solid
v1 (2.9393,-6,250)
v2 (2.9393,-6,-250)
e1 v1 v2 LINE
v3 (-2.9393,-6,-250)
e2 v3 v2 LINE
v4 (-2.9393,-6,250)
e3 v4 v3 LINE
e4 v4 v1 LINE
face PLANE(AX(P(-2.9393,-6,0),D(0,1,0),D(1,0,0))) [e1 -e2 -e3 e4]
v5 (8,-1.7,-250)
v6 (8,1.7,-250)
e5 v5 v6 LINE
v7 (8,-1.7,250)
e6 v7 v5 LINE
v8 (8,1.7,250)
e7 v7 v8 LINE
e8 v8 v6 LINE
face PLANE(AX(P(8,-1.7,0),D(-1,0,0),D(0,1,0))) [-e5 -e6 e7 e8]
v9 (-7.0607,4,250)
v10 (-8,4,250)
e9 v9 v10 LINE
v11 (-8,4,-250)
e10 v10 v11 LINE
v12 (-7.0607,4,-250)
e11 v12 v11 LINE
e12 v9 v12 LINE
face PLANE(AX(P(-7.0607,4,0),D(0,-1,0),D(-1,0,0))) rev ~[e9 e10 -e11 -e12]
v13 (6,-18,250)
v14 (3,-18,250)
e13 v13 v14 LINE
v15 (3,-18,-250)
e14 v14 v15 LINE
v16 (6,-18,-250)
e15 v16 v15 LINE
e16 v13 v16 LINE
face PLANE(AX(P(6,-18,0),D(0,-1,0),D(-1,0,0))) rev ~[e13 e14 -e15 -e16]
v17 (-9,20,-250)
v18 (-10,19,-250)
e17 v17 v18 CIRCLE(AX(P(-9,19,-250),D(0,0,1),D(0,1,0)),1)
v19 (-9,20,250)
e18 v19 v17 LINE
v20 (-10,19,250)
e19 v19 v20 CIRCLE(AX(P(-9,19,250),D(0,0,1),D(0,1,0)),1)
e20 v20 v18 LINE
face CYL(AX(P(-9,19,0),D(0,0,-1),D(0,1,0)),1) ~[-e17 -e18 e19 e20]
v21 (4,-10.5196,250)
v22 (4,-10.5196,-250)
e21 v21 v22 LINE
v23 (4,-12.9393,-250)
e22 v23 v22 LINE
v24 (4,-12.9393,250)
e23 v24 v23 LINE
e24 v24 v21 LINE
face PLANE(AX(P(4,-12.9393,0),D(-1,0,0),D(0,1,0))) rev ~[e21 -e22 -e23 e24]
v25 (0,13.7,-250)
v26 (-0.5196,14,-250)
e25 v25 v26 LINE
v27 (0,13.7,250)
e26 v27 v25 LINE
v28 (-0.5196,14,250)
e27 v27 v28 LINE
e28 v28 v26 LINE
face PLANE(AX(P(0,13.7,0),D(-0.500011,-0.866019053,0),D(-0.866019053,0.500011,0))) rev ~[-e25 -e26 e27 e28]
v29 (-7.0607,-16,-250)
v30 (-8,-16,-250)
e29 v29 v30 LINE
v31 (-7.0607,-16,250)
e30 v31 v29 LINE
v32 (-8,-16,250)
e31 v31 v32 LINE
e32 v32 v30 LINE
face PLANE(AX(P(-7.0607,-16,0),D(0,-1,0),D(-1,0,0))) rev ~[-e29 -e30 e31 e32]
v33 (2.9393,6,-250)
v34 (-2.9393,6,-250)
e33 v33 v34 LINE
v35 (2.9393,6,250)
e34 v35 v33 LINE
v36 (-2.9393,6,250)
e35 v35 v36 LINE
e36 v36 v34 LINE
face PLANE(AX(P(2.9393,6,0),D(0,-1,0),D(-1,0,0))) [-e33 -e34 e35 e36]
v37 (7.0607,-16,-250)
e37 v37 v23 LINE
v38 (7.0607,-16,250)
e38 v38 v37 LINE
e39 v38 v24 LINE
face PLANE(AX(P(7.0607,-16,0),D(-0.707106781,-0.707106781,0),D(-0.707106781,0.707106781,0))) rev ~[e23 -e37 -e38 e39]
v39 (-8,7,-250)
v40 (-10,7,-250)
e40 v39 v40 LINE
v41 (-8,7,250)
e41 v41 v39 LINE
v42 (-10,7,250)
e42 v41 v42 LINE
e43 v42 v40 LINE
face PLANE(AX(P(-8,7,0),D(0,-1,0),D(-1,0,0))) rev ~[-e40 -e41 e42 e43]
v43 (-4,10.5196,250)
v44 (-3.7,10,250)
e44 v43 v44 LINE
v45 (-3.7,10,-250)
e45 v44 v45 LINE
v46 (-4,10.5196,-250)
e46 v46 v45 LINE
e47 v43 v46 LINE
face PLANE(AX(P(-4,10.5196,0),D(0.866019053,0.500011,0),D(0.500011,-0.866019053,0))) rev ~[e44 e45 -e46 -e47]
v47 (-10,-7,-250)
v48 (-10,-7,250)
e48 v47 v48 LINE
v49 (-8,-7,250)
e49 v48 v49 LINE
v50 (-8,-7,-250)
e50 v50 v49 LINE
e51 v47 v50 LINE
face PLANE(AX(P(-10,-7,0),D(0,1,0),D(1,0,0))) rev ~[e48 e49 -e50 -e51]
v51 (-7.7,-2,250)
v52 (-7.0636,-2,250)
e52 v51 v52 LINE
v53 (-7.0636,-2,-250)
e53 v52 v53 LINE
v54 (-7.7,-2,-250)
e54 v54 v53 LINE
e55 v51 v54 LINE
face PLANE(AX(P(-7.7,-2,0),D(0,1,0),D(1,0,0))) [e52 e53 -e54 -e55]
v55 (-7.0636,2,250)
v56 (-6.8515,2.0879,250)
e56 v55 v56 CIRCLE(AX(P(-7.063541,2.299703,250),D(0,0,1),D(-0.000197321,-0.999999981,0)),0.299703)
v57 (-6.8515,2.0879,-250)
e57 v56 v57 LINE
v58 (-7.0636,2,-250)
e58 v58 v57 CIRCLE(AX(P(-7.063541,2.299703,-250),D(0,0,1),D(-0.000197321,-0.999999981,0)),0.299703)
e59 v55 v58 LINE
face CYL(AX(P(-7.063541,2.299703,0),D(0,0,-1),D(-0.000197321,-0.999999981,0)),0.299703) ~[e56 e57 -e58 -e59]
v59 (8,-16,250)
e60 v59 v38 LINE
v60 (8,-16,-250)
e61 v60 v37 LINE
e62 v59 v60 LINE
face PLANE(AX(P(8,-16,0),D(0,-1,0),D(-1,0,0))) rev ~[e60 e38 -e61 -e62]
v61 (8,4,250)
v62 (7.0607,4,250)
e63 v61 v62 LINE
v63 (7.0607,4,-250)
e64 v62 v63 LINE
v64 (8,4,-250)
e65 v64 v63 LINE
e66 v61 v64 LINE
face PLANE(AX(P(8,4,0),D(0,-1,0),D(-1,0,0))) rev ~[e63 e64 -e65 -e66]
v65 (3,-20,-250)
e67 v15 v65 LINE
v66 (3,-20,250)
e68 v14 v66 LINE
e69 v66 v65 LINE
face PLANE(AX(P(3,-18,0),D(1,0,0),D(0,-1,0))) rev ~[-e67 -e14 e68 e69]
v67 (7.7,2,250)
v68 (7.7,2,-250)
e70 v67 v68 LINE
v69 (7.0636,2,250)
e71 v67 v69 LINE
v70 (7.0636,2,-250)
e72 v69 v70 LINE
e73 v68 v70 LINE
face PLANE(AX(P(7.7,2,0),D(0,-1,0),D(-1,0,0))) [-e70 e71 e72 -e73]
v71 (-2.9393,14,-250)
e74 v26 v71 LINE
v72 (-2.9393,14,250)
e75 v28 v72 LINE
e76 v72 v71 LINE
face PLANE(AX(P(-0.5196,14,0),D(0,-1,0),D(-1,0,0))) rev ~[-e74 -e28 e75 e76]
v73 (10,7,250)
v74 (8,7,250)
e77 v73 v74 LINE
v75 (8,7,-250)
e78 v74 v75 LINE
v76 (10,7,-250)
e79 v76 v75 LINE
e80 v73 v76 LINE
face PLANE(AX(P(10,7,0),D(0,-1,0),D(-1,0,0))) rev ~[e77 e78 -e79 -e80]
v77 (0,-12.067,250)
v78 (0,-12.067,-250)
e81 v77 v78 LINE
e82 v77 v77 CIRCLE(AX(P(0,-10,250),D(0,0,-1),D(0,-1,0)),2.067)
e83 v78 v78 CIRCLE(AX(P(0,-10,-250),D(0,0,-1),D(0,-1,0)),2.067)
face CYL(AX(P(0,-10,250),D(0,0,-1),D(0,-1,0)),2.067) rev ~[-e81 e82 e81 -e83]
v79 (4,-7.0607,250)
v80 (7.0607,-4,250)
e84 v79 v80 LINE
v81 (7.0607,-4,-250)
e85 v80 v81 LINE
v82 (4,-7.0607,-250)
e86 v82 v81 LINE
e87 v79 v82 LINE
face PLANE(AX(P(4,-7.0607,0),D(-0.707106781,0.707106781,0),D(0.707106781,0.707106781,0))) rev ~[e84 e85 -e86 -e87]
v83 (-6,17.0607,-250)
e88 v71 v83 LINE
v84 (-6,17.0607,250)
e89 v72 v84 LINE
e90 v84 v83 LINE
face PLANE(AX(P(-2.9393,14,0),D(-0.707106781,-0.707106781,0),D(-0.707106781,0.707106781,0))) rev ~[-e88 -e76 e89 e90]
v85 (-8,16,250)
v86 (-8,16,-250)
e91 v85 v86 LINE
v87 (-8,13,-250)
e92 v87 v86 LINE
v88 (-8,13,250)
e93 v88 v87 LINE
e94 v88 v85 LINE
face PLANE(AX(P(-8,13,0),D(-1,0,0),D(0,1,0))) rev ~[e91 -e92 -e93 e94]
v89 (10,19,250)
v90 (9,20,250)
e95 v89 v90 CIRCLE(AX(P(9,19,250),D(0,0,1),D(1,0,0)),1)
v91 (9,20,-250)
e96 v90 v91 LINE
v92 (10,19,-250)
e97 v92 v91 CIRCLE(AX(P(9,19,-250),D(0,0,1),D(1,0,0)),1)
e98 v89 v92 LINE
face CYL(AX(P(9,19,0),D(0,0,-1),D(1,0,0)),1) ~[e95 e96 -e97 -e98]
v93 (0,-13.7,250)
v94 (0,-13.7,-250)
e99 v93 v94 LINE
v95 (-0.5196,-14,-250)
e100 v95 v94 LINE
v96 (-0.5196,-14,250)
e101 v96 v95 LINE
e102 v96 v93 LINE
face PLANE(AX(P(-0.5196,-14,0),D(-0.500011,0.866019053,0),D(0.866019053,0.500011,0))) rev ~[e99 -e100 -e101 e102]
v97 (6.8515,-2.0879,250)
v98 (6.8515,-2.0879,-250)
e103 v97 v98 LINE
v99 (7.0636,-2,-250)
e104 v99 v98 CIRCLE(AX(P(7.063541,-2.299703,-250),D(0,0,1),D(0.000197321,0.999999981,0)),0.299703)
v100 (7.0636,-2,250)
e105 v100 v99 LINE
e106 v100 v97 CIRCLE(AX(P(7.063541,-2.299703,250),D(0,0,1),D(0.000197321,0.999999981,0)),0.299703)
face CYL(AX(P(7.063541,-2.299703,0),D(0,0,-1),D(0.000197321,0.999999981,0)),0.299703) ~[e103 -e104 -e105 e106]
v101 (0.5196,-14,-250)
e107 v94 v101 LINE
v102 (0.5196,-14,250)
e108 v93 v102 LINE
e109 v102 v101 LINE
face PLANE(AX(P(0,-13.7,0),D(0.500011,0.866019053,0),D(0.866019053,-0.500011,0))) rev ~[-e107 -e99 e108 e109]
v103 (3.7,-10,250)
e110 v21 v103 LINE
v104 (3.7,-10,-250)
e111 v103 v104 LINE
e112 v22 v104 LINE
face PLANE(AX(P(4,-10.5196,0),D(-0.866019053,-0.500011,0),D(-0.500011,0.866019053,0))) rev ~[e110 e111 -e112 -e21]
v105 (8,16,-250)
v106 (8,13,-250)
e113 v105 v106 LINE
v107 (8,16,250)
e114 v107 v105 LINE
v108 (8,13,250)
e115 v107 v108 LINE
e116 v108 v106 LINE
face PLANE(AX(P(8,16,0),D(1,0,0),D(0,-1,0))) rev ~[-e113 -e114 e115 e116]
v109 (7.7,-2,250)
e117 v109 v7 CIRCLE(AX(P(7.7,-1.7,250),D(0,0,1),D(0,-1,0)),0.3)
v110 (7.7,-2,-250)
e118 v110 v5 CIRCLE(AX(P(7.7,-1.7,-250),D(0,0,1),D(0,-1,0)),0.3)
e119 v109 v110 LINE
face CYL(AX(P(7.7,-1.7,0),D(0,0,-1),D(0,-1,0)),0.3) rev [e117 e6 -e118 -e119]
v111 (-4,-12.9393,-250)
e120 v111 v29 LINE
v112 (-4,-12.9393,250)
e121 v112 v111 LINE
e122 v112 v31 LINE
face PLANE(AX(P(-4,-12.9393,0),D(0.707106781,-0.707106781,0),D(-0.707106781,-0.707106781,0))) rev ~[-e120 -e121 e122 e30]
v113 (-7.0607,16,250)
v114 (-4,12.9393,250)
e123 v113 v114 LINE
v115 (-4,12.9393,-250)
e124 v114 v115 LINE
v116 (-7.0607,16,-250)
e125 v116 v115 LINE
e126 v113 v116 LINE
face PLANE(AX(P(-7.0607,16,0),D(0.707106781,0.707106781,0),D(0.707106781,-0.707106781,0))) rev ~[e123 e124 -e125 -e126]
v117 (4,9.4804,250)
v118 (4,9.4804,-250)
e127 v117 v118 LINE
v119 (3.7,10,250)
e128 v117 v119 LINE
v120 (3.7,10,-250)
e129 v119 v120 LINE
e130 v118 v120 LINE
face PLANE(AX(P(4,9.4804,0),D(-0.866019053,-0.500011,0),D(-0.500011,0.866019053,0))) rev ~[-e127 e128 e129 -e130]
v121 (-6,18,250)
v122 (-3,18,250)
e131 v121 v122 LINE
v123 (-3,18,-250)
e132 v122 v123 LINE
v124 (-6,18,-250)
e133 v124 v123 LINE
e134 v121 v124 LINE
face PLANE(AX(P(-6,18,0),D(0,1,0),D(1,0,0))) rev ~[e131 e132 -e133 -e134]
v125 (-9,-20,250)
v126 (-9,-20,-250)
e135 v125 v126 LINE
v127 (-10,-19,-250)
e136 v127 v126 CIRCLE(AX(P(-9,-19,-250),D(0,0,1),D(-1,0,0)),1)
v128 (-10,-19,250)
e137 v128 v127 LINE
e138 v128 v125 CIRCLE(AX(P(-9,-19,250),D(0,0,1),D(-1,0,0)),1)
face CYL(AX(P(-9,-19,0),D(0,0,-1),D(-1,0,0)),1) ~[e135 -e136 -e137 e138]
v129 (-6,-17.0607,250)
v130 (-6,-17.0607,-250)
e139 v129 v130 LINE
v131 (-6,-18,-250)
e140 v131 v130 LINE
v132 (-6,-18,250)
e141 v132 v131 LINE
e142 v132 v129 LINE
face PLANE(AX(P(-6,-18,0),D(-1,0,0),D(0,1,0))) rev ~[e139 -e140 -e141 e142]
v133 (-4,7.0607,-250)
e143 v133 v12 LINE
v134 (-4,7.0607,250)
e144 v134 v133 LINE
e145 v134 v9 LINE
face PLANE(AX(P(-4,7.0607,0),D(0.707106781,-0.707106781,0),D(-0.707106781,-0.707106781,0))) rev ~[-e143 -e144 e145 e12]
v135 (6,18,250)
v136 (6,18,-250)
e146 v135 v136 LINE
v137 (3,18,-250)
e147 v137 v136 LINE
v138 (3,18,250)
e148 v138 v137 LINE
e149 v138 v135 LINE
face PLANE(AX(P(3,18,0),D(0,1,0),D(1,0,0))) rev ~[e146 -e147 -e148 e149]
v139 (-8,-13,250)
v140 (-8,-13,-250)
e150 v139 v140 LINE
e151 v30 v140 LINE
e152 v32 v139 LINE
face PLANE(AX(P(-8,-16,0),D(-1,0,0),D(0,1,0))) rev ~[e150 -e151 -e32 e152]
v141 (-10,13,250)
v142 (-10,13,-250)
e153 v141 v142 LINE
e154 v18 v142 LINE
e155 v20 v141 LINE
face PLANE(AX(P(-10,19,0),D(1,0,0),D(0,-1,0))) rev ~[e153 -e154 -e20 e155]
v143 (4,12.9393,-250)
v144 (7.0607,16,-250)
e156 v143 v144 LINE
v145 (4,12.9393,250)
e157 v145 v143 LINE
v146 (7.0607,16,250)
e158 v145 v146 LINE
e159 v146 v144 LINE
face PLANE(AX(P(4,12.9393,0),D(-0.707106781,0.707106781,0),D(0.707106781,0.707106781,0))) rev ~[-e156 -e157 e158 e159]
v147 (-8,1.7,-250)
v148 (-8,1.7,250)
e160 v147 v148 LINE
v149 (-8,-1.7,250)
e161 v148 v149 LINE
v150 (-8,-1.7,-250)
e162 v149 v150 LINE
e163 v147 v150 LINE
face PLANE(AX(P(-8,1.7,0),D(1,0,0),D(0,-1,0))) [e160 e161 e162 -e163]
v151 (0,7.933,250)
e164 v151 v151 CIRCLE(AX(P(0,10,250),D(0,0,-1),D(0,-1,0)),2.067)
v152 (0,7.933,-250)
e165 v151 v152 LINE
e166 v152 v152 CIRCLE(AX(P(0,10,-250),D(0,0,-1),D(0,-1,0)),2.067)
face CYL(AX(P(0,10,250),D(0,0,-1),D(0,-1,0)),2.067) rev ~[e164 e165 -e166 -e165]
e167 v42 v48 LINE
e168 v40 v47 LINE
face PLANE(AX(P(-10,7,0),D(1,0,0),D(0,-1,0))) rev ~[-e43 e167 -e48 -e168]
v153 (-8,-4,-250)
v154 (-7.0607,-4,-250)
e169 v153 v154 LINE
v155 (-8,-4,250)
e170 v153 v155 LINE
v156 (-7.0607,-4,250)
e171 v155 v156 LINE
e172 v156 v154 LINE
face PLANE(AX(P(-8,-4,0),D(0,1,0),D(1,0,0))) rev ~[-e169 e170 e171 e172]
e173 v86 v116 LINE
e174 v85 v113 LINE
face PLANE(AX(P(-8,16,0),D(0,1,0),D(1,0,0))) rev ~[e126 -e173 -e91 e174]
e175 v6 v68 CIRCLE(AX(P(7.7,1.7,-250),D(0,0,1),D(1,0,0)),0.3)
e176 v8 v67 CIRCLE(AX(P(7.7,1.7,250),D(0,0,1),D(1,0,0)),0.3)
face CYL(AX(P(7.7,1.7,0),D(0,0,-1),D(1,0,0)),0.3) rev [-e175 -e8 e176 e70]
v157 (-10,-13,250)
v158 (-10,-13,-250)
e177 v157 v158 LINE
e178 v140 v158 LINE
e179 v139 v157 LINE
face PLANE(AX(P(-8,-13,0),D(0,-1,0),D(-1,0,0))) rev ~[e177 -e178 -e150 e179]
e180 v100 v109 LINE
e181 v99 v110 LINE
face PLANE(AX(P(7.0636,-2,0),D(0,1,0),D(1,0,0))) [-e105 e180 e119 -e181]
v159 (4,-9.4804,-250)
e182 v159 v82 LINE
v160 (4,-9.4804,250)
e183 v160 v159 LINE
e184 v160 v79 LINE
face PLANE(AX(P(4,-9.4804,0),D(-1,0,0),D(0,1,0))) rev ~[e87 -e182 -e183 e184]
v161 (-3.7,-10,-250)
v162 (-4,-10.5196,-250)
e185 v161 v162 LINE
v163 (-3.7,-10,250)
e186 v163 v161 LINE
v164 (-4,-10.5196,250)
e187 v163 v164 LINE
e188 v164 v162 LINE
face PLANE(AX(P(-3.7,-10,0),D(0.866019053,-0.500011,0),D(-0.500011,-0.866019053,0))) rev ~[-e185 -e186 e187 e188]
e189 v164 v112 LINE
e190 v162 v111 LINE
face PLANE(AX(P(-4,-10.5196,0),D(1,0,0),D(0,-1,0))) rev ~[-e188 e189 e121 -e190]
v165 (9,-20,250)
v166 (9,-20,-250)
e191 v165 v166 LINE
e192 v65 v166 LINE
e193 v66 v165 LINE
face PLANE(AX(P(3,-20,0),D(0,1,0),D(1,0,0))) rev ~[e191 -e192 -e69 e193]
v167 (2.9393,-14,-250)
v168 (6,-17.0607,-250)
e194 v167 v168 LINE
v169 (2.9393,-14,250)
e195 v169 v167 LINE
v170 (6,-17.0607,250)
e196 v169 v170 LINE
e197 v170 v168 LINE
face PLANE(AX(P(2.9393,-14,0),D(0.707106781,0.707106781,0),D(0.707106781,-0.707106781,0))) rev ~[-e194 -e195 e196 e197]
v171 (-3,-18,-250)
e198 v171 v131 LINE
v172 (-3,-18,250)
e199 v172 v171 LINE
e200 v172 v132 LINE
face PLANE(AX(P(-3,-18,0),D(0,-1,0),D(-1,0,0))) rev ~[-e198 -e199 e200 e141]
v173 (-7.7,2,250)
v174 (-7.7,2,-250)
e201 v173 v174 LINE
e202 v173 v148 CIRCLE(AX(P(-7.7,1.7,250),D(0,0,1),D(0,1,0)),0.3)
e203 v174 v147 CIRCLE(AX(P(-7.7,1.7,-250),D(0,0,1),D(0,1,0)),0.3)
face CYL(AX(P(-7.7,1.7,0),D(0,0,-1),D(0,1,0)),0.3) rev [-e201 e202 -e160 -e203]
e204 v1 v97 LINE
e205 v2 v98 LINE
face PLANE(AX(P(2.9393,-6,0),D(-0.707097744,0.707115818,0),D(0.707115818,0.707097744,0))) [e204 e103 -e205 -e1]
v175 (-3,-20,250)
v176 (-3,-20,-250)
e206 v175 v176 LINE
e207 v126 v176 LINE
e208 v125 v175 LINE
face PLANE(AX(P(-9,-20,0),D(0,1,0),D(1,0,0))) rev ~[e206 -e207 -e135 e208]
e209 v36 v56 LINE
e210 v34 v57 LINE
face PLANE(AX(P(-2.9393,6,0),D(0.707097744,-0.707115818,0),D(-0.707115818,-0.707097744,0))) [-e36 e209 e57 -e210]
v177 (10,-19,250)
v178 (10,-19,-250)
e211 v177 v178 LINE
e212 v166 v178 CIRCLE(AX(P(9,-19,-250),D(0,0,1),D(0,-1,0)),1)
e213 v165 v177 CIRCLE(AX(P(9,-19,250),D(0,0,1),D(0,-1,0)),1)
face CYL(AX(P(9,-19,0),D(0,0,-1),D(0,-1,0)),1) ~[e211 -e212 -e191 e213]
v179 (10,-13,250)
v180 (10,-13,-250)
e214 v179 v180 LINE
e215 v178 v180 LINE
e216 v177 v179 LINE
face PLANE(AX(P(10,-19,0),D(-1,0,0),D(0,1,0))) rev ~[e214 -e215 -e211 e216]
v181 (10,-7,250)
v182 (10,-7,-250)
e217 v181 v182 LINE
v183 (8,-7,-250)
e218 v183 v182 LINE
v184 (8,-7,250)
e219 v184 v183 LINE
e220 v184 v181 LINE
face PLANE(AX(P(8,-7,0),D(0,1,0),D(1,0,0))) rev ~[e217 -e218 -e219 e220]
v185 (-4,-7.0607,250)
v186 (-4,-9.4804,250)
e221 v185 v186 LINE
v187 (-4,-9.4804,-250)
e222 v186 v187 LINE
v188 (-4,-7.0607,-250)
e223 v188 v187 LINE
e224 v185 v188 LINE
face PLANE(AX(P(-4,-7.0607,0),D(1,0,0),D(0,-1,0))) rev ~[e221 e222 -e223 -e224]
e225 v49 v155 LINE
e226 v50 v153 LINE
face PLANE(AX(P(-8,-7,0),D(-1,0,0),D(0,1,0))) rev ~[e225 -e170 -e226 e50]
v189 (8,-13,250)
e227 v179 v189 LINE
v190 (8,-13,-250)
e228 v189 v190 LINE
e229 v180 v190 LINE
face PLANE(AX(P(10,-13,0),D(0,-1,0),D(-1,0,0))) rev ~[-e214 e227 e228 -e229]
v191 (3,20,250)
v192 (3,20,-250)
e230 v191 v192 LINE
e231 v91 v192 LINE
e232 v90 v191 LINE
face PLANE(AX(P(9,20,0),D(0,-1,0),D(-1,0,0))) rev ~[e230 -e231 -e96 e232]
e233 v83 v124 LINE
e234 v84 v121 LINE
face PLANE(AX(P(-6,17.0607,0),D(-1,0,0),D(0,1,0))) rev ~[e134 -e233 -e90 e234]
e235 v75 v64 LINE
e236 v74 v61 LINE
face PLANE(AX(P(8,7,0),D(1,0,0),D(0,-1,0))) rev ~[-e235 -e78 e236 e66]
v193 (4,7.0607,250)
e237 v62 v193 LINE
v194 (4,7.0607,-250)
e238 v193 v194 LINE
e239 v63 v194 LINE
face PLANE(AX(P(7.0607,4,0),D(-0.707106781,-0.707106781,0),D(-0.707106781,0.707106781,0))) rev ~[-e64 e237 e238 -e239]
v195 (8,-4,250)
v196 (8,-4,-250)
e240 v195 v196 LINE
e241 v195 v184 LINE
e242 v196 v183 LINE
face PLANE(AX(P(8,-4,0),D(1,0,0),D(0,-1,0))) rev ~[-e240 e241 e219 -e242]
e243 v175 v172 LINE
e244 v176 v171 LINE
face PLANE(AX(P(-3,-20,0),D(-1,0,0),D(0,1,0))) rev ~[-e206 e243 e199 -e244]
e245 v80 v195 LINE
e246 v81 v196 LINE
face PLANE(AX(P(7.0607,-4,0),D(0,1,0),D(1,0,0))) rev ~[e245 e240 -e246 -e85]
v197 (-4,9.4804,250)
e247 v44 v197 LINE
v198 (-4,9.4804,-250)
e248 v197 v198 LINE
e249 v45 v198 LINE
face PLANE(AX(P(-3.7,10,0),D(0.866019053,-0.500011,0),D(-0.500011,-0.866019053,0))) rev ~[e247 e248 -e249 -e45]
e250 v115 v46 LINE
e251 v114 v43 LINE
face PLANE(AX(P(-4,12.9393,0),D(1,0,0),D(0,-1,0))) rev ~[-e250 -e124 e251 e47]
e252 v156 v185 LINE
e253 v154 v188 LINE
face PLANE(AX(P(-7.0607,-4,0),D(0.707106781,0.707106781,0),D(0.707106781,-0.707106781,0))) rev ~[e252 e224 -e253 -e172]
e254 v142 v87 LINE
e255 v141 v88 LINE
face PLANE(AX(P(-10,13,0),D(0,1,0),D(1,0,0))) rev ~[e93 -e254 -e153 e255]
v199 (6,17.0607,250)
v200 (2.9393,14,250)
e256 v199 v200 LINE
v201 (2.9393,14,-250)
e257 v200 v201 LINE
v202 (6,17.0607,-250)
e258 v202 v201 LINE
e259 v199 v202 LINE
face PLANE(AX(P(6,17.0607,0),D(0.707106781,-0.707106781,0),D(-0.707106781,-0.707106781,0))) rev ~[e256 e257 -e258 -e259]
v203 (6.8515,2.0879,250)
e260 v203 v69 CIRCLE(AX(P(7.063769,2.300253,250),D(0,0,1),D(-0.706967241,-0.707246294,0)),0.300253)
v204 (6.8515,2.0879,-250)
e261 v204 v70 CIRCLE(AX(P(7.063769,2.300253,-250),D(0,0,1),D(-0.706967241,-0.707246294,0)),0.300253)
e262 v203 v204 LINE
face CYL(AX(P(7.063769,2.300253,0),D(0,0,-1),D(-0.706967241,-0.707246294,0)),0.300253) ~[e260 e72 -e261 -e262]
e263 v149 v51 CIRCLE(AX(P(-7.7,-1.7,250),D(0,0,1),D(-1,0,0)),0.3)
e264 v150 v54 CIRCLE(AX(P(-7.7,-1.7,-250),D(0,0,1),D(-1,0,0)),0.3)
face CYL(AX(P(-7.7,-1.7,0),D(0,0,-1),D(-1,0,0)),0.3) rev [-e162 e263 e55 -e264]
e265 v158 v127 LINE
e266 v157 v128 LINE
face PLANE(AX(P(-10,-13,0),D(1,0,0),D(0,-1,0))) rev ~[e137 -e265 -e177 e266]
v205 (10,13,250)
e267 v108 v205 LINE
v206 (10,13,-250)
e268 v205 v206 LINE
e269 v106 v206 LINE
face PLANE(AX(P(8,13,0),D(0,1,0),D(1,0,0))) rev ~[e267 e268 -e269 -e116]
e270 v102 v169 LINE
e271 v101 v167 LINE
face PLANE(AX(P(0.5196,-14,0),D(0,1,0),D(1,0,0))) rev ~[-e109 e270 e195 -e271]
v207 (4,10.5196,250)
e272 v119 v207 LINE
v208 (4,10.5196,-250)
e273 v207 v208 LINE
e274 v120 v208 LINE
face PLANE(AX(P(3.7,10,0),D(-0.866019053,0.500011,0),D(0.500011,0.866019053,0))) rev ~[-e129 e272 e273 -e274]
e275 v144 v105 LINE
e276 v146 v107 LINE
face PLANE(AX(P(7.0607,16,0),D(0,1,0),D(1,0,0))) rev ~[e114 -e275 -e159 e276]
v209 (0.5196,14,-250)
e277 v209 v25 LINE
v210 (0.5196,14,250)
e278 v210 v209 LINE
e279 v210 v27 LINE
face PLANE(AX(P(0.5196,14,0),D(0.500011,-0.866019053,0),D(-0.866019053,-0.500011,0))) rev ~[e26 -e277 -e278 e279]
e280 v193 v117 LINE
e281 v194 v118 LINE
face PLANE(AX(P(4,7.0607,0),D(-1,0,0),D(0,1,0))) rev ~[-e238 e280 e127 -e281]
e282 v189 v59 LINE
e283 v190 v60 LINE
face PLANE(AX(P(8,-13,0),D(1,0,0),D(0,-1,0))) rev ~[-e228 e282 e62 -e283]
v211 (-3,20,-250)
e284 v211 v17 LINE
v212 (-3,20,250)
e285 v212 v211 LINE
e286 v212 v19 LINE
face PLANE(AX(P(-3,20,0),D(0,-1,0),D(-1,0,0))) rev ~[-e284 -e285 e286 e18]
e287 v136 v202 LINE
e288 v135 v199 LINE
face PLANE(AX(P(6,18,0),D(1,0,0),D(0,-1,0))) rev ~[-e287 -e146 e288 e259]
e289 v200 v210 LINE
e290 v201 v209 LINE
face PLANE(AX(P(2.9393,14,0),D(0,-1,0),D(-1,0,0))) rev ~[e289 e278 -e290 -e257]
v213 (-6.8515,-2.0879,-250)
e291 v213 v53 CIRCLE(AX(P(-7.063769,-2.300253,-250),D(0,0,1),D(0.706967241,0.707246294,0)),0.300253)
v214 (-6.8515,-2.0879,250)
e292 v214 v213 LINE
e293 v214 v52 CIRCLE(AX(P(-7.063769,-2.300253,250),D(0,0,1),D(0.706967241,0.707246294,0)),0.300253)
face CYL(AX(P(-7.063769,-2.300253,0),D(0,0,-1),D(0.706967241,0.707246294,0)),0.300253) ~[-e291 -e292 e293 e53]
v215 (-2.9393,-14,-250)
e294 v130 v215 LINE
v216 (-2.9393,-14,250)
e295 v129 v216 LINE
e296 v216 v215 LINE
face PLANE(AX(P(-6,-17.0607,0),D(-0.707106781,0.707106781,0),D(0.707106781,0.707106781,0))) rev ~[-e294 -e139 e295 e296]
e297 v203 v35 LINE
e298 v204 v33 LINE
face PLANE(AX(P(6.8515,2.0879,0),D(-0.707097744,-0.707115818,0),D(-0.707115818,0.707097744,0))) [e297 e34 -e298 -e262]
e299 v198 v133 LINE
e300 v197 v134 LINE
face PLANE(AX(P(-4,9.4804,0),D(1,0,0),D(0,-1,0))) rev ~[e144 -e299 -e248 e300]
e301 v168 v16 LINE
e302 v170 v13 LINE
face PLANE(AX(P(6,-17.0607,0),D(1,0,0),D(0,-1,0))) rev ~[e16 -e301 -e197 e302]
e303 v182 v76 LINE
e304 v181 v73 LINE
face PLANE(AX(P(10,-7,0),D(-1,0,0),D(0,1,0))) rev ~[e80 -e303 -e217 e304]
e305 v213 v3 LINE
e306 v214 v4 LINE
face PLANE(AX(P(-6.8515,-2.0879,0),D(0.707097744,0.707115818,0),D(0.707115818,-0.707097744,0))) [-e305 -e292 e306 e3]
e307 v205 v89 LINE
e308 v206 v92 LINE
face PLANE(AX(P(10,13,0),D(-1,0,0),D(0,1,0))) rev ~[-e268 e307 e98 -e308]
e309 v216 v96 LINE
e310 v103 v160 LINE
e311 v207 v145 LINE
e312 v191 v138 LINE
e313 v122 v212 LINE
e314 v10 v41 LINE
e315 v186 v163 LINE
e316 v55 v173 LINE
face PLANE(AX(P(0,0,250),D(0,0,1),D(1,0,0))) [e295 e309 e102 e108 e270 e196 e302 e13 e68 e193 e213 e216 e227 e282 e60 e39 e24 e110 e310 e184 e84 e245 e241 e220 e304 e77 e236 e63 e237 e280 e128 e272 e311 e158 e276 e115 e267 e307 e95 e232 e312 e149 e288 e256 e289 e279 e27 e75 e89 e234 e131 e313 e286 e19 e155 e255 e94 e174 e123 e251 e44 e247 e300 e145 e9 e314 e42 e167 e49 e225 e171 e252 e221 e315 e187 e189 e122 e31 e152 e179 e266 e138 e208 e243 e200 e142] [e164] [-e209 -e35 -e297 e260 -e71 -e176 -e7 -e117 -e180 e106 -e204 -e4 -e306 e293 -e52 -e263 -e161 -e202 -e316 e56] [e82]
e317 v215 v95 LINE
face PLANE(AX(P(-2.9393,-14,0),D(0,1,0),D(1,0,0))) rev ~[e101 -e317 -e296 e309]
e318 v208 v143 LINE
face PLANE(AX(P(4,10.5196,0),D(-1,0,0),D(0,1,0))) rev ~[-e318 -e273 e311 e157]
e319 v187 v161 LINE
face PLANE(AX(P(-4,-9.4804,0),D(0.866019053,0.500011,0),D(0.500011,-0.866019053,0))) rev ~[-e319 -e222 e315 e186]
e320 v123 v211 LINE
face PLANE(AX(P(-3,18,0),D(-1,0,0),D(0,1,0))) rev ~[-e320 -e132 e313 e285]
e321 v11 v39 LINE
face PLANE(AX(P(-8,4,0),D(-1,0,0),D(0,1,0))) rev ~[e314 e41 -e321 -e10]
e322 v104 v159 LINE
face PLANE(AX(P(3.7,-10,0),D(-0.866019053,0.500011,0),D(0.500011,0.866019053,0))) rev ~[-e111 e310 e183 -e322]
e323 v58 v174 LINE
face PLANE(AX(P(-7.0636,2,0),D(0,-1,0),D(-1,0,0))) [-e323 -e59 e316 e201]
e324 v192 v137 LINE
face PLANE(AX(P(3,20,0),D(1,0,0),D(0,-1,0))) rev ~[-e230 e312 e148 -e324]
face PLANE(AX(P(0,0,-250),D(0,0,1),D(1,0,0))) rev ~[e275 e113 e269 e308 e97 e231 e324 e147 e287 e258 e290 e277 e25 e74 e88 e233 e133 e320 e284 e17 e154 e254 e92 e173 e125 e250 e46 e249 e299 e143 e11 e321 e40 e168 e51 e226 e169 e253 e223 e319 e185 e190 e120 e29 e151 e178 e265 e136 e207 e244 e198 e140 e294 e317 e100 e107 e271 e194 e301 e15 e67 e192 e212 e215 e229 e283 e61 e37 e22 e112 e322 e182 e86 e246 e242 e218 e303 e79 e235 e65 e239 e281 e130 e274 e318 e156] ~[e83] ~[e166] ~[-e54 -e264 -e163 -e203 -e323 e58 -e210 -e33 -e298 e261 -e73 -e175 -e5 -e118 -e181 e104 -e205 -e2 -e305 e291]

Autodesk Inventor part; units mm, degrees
sketch "Sketch_1" plane through (0, 0, 0) normal (0, 0, 1) x (1, 0, 0)
  line L0 (-10, -7) -> (-8, -7)
  line L1 (-8, -7) -> (-8, -4)
  line L2 (-8, -4) -> (-7.0607, -4)
  line L3 (-7.0607, -4) -> (-4, -7.0607)
  line L4 (-4, -7.0607) -> (-4, -9.4804)
  line L5 (-4, -9.4804) -> (-3.7, -10)
  line L6 (-3.7, -10) -> (-4, -10.5196)
  line L7 (-4, -10.5196) -> (-4, -12.9393)
  line L8 (-4, -12.9393) -> (-7.0607, -16)
  line L9 (-7.0607, -16) -> (-8, -16)
  line L10 (-8, -16) -> (-8, -13)
  line L11 (-8, -13) -> (-10, -13)
  line L12 (-10, -13) -> (-10, -19)
  arc A0 (-10, -19) -> (-9, -20) centre (-9, -19) ccw
  line L13 (-9, -20) -> (-3, -20)
  line L14 (-3, -20) -> (-3, -18)
  line L15 (-3, -18) -> (-6, -18)
  line L16 (-6, -18) -> (-6, -17.0607)
  line L17 (-6, -17.0607) -> (-2.9393, -14)
  line L18 (-2.9393, -14) -> (-0.5196, -14)
  line L19 (-0.5196, -14) -> (0, -13.7)
  line L20 (0, -13.7) -> (0.5196, -14)
  line L21 (0.5196, -14) -> (2.9393, -14)
  line L22 (2.9393, -14) -> (6, -17.0607)
  line L23 (6, -17.0607) -> (6, -18)
  line L24 (6, -18) -> (3, -18)
  line L25 (3, -18) -> (3, -20)
  line L26 (3, -20) -> (9, -20)
  arc A1 (9, -20) -> (10, -19) centre (9, -19) ccw
  line L27 (10, -19) -> (10, -13)
  line L28 (10, -13) -> (8, -13)
  line L29 (8, -13) -> (8, -16)
  line L30 (8, -16) -> (7.0607, -16)
  line L31 (7.0607, -16) -> (4, -12.9393)
  line L32 (4, -12.9393) -> (4, -10.5196)
  line L33 (4, -10.5196) -> (3.7, -10)
  line L34 (3.7, -10) -> (4, -9.4804)
  line L35 (4, -9.4804) -> (4, -7.0607)
  line L36 (4, -7.0607) -> (7.0607, -4)
  line L37 (7.0607, -4) -> (8, -4)
  line L38 (8, -4) -> (8, -7)
  line L39 (8, -7) -> (10, -7)
  line L40 (10, -7) -> (10, 7)
  line L41 (10, 7) -> (8, 7)
  line L42 (8, 7) -> (8, 4)
  line L43 (8, 4) -> (7.0607, 4)
  line L44 (7.0607, 4) -> (4, 7.0607)
  line L45 (4, 7.0607) -> (4, 9.4804)
  line L46 (4, 9.4804) -> (3.7, 10)
  line L47 (3.7, 10) -> (4, 10.5196)
  line L48 (4, 10.5196) -> (4, 12.9393)
  line L49 (4, 12.9393) -> (7.0607, 16)
  line L50 (7.0607, 16) -> (8, 16)
  line L51 (8, 16) -> (8, 13)
  line L52 (8, 13) -> (10, 13)
  line L53 (10, 13) -> (10, 19)
  arc A2 (10, 19) -> (9, 20) centre (9, 19) ccw
  line L54 (9, 20) -> (3, 20)
  line L55 (3, 20) -> (3, 18)
  line L56 (3, 18) -> (6, 18)
  line L57 (6, 18) -> (6, 17.0607)
  line L58 (6, 17.0607) -> (2.9393, 14)
  line L59 (2.9393, 14) -> (0.5196, 14)
  line L60 (0.5196, 14) -> (0, 13.7)
  line L61 (0, 13.7) -> (-0.5196, 14)
  line L62 (-0.5196, 14) -> (-2.9393, 14)
  line L63 (-2.9393, 14) -> (-6, 17.0607)
  line L64 (-6, 17.0607) -> (-6, 18)
  line L65 (-6, 18) -> (-3, 18)
  line L66 (-3, 18) -> (-3, 20)
  line L67 (-3, 20) -> (-9, 20)
  arc A3 (-9, 20) -> (-10, 19) centre (-9, 19) ccw
  line L68 (-10, 19) -> (-10, 13)
  line L69 (-10, 13) -> (-8, 13)
  line L70 (-8, 13) -> (-8, 16)
  line L71 (-8, 16) -> (-7.0607, 16)
  line L72 (-7.0607, 16) -> (-4, 12.9393)
  line L73 (-4, 12.9393) -> (-4, 10.5196)
  line L74 (-4, 10.5196) -> (-3.7, 10)
  line L75 (-3.7, 10) -> (-4, 9.4804)
  line L76 (-4, 9.4804) -> (-4, 7.0607)
  line L77 (-4, 7.0607) -> (-7.0607, 4)
  line L78 (-7.0607, 4) -> (-8, 4)
  line L79 (-8, 4) -> (-8, 7)
  line L80 (-8, 7) -> (-10, 7)
  line L81 (-10, 7) -> (-10, -7)
  line L82 (-8, 1.7) -> (-8, -1.7)
  arc A4 (-8, -1.7) -> (-7.7, -2) centre (-7.7, -1.7) ccw
  line L83 (-7.7, -2) -> (-7.0636, -2)
  arc A5 (-6.8515, -2.0879) -> (-7.0636, -2) centre (-7.0636, -2.3) ccw
  line L84 (-6.8515, -2.0879) -> (-2.9393, -6)
  line L85 (-2.9393, -6) -> (2.9393, -6)
  line L86 (2.9393, -6) -> (6.8515, -2.0879)
  arc A6 (7.0636, -2) -> (6.8515, -2.0879) centre (7.0636, -2.3) ccw
  line L87 (7.0636, -2) -> (7.7, -2)
  arc A7 (7.7, -2) -> (8, -1.7) centre (7.7, -1.7) ccw
  line L88 (8, -1.7) -> (8, 1.7)
  arc A8 (8, 1.7) -> (7.7, 2) centre (7.7, 1.7) ccw
  line L89 (7.7, 2) -> (7.0636, 2)
  arc A9 (6.8515, 2.0879) -> (7.0636, 2) centre (7.0636, 2.3) ccw
  line L90 (6.8515, 2.0879) -> (2.9393, 6)
  line L91 (2.9393, 6) -> (-2.9393, 6)
  line L92 (-2.9393, 6) -> (-6.8515, 2.0879)
  arc A10 (-7.0636, 2) -> (-6.8515, 2.0879) centre (-7.0636, 2.3) ccw
  line L93 (-7.0636, 2) -> (-7.7, 2)
  arc A11 (-7.7, 2) -> (-8, 1.7) centre (-7.7, 1.7) ccw
extrude "Extrusion1" add sketch "Sketch_1" along normal mid plane 500
sketch "Sketch2" plane through (0, 0, 250) normal (0, 0, 1) x (-1, 0, 0)
  point P0 (0, 10)
hole "Hole1" at (0, -10, 250) direction (0, 0, -1) diameter 4.134 end through all thread size "M5x0.8" class "6H" standard "ANSI Metric M Profile"
pattern_linear "Rectangular Pattern1" count 2 spacing 20 along (0, 1, 0) of "Hole1"
ref_plane "C1_XY" through (0, 0, 0) normal (0, 0, 1) x (1, 0, 0)
ref_plane "C1_YZ" through (0, 0, 0) normal (1, 0, 0) x (0, 1, 0)
ref_plane "C1_ZX" through (0, 0, 0) normal (0, 1, 0) x (0, 0, 1)
mirror "Mirror1" about plane through (0, 0, 0) normal (0, 0, 1) of "Hole1", "Rectangular Pattern1"
properties part number "HFS5-2040-500-SC" material "Aluminum 6061"
